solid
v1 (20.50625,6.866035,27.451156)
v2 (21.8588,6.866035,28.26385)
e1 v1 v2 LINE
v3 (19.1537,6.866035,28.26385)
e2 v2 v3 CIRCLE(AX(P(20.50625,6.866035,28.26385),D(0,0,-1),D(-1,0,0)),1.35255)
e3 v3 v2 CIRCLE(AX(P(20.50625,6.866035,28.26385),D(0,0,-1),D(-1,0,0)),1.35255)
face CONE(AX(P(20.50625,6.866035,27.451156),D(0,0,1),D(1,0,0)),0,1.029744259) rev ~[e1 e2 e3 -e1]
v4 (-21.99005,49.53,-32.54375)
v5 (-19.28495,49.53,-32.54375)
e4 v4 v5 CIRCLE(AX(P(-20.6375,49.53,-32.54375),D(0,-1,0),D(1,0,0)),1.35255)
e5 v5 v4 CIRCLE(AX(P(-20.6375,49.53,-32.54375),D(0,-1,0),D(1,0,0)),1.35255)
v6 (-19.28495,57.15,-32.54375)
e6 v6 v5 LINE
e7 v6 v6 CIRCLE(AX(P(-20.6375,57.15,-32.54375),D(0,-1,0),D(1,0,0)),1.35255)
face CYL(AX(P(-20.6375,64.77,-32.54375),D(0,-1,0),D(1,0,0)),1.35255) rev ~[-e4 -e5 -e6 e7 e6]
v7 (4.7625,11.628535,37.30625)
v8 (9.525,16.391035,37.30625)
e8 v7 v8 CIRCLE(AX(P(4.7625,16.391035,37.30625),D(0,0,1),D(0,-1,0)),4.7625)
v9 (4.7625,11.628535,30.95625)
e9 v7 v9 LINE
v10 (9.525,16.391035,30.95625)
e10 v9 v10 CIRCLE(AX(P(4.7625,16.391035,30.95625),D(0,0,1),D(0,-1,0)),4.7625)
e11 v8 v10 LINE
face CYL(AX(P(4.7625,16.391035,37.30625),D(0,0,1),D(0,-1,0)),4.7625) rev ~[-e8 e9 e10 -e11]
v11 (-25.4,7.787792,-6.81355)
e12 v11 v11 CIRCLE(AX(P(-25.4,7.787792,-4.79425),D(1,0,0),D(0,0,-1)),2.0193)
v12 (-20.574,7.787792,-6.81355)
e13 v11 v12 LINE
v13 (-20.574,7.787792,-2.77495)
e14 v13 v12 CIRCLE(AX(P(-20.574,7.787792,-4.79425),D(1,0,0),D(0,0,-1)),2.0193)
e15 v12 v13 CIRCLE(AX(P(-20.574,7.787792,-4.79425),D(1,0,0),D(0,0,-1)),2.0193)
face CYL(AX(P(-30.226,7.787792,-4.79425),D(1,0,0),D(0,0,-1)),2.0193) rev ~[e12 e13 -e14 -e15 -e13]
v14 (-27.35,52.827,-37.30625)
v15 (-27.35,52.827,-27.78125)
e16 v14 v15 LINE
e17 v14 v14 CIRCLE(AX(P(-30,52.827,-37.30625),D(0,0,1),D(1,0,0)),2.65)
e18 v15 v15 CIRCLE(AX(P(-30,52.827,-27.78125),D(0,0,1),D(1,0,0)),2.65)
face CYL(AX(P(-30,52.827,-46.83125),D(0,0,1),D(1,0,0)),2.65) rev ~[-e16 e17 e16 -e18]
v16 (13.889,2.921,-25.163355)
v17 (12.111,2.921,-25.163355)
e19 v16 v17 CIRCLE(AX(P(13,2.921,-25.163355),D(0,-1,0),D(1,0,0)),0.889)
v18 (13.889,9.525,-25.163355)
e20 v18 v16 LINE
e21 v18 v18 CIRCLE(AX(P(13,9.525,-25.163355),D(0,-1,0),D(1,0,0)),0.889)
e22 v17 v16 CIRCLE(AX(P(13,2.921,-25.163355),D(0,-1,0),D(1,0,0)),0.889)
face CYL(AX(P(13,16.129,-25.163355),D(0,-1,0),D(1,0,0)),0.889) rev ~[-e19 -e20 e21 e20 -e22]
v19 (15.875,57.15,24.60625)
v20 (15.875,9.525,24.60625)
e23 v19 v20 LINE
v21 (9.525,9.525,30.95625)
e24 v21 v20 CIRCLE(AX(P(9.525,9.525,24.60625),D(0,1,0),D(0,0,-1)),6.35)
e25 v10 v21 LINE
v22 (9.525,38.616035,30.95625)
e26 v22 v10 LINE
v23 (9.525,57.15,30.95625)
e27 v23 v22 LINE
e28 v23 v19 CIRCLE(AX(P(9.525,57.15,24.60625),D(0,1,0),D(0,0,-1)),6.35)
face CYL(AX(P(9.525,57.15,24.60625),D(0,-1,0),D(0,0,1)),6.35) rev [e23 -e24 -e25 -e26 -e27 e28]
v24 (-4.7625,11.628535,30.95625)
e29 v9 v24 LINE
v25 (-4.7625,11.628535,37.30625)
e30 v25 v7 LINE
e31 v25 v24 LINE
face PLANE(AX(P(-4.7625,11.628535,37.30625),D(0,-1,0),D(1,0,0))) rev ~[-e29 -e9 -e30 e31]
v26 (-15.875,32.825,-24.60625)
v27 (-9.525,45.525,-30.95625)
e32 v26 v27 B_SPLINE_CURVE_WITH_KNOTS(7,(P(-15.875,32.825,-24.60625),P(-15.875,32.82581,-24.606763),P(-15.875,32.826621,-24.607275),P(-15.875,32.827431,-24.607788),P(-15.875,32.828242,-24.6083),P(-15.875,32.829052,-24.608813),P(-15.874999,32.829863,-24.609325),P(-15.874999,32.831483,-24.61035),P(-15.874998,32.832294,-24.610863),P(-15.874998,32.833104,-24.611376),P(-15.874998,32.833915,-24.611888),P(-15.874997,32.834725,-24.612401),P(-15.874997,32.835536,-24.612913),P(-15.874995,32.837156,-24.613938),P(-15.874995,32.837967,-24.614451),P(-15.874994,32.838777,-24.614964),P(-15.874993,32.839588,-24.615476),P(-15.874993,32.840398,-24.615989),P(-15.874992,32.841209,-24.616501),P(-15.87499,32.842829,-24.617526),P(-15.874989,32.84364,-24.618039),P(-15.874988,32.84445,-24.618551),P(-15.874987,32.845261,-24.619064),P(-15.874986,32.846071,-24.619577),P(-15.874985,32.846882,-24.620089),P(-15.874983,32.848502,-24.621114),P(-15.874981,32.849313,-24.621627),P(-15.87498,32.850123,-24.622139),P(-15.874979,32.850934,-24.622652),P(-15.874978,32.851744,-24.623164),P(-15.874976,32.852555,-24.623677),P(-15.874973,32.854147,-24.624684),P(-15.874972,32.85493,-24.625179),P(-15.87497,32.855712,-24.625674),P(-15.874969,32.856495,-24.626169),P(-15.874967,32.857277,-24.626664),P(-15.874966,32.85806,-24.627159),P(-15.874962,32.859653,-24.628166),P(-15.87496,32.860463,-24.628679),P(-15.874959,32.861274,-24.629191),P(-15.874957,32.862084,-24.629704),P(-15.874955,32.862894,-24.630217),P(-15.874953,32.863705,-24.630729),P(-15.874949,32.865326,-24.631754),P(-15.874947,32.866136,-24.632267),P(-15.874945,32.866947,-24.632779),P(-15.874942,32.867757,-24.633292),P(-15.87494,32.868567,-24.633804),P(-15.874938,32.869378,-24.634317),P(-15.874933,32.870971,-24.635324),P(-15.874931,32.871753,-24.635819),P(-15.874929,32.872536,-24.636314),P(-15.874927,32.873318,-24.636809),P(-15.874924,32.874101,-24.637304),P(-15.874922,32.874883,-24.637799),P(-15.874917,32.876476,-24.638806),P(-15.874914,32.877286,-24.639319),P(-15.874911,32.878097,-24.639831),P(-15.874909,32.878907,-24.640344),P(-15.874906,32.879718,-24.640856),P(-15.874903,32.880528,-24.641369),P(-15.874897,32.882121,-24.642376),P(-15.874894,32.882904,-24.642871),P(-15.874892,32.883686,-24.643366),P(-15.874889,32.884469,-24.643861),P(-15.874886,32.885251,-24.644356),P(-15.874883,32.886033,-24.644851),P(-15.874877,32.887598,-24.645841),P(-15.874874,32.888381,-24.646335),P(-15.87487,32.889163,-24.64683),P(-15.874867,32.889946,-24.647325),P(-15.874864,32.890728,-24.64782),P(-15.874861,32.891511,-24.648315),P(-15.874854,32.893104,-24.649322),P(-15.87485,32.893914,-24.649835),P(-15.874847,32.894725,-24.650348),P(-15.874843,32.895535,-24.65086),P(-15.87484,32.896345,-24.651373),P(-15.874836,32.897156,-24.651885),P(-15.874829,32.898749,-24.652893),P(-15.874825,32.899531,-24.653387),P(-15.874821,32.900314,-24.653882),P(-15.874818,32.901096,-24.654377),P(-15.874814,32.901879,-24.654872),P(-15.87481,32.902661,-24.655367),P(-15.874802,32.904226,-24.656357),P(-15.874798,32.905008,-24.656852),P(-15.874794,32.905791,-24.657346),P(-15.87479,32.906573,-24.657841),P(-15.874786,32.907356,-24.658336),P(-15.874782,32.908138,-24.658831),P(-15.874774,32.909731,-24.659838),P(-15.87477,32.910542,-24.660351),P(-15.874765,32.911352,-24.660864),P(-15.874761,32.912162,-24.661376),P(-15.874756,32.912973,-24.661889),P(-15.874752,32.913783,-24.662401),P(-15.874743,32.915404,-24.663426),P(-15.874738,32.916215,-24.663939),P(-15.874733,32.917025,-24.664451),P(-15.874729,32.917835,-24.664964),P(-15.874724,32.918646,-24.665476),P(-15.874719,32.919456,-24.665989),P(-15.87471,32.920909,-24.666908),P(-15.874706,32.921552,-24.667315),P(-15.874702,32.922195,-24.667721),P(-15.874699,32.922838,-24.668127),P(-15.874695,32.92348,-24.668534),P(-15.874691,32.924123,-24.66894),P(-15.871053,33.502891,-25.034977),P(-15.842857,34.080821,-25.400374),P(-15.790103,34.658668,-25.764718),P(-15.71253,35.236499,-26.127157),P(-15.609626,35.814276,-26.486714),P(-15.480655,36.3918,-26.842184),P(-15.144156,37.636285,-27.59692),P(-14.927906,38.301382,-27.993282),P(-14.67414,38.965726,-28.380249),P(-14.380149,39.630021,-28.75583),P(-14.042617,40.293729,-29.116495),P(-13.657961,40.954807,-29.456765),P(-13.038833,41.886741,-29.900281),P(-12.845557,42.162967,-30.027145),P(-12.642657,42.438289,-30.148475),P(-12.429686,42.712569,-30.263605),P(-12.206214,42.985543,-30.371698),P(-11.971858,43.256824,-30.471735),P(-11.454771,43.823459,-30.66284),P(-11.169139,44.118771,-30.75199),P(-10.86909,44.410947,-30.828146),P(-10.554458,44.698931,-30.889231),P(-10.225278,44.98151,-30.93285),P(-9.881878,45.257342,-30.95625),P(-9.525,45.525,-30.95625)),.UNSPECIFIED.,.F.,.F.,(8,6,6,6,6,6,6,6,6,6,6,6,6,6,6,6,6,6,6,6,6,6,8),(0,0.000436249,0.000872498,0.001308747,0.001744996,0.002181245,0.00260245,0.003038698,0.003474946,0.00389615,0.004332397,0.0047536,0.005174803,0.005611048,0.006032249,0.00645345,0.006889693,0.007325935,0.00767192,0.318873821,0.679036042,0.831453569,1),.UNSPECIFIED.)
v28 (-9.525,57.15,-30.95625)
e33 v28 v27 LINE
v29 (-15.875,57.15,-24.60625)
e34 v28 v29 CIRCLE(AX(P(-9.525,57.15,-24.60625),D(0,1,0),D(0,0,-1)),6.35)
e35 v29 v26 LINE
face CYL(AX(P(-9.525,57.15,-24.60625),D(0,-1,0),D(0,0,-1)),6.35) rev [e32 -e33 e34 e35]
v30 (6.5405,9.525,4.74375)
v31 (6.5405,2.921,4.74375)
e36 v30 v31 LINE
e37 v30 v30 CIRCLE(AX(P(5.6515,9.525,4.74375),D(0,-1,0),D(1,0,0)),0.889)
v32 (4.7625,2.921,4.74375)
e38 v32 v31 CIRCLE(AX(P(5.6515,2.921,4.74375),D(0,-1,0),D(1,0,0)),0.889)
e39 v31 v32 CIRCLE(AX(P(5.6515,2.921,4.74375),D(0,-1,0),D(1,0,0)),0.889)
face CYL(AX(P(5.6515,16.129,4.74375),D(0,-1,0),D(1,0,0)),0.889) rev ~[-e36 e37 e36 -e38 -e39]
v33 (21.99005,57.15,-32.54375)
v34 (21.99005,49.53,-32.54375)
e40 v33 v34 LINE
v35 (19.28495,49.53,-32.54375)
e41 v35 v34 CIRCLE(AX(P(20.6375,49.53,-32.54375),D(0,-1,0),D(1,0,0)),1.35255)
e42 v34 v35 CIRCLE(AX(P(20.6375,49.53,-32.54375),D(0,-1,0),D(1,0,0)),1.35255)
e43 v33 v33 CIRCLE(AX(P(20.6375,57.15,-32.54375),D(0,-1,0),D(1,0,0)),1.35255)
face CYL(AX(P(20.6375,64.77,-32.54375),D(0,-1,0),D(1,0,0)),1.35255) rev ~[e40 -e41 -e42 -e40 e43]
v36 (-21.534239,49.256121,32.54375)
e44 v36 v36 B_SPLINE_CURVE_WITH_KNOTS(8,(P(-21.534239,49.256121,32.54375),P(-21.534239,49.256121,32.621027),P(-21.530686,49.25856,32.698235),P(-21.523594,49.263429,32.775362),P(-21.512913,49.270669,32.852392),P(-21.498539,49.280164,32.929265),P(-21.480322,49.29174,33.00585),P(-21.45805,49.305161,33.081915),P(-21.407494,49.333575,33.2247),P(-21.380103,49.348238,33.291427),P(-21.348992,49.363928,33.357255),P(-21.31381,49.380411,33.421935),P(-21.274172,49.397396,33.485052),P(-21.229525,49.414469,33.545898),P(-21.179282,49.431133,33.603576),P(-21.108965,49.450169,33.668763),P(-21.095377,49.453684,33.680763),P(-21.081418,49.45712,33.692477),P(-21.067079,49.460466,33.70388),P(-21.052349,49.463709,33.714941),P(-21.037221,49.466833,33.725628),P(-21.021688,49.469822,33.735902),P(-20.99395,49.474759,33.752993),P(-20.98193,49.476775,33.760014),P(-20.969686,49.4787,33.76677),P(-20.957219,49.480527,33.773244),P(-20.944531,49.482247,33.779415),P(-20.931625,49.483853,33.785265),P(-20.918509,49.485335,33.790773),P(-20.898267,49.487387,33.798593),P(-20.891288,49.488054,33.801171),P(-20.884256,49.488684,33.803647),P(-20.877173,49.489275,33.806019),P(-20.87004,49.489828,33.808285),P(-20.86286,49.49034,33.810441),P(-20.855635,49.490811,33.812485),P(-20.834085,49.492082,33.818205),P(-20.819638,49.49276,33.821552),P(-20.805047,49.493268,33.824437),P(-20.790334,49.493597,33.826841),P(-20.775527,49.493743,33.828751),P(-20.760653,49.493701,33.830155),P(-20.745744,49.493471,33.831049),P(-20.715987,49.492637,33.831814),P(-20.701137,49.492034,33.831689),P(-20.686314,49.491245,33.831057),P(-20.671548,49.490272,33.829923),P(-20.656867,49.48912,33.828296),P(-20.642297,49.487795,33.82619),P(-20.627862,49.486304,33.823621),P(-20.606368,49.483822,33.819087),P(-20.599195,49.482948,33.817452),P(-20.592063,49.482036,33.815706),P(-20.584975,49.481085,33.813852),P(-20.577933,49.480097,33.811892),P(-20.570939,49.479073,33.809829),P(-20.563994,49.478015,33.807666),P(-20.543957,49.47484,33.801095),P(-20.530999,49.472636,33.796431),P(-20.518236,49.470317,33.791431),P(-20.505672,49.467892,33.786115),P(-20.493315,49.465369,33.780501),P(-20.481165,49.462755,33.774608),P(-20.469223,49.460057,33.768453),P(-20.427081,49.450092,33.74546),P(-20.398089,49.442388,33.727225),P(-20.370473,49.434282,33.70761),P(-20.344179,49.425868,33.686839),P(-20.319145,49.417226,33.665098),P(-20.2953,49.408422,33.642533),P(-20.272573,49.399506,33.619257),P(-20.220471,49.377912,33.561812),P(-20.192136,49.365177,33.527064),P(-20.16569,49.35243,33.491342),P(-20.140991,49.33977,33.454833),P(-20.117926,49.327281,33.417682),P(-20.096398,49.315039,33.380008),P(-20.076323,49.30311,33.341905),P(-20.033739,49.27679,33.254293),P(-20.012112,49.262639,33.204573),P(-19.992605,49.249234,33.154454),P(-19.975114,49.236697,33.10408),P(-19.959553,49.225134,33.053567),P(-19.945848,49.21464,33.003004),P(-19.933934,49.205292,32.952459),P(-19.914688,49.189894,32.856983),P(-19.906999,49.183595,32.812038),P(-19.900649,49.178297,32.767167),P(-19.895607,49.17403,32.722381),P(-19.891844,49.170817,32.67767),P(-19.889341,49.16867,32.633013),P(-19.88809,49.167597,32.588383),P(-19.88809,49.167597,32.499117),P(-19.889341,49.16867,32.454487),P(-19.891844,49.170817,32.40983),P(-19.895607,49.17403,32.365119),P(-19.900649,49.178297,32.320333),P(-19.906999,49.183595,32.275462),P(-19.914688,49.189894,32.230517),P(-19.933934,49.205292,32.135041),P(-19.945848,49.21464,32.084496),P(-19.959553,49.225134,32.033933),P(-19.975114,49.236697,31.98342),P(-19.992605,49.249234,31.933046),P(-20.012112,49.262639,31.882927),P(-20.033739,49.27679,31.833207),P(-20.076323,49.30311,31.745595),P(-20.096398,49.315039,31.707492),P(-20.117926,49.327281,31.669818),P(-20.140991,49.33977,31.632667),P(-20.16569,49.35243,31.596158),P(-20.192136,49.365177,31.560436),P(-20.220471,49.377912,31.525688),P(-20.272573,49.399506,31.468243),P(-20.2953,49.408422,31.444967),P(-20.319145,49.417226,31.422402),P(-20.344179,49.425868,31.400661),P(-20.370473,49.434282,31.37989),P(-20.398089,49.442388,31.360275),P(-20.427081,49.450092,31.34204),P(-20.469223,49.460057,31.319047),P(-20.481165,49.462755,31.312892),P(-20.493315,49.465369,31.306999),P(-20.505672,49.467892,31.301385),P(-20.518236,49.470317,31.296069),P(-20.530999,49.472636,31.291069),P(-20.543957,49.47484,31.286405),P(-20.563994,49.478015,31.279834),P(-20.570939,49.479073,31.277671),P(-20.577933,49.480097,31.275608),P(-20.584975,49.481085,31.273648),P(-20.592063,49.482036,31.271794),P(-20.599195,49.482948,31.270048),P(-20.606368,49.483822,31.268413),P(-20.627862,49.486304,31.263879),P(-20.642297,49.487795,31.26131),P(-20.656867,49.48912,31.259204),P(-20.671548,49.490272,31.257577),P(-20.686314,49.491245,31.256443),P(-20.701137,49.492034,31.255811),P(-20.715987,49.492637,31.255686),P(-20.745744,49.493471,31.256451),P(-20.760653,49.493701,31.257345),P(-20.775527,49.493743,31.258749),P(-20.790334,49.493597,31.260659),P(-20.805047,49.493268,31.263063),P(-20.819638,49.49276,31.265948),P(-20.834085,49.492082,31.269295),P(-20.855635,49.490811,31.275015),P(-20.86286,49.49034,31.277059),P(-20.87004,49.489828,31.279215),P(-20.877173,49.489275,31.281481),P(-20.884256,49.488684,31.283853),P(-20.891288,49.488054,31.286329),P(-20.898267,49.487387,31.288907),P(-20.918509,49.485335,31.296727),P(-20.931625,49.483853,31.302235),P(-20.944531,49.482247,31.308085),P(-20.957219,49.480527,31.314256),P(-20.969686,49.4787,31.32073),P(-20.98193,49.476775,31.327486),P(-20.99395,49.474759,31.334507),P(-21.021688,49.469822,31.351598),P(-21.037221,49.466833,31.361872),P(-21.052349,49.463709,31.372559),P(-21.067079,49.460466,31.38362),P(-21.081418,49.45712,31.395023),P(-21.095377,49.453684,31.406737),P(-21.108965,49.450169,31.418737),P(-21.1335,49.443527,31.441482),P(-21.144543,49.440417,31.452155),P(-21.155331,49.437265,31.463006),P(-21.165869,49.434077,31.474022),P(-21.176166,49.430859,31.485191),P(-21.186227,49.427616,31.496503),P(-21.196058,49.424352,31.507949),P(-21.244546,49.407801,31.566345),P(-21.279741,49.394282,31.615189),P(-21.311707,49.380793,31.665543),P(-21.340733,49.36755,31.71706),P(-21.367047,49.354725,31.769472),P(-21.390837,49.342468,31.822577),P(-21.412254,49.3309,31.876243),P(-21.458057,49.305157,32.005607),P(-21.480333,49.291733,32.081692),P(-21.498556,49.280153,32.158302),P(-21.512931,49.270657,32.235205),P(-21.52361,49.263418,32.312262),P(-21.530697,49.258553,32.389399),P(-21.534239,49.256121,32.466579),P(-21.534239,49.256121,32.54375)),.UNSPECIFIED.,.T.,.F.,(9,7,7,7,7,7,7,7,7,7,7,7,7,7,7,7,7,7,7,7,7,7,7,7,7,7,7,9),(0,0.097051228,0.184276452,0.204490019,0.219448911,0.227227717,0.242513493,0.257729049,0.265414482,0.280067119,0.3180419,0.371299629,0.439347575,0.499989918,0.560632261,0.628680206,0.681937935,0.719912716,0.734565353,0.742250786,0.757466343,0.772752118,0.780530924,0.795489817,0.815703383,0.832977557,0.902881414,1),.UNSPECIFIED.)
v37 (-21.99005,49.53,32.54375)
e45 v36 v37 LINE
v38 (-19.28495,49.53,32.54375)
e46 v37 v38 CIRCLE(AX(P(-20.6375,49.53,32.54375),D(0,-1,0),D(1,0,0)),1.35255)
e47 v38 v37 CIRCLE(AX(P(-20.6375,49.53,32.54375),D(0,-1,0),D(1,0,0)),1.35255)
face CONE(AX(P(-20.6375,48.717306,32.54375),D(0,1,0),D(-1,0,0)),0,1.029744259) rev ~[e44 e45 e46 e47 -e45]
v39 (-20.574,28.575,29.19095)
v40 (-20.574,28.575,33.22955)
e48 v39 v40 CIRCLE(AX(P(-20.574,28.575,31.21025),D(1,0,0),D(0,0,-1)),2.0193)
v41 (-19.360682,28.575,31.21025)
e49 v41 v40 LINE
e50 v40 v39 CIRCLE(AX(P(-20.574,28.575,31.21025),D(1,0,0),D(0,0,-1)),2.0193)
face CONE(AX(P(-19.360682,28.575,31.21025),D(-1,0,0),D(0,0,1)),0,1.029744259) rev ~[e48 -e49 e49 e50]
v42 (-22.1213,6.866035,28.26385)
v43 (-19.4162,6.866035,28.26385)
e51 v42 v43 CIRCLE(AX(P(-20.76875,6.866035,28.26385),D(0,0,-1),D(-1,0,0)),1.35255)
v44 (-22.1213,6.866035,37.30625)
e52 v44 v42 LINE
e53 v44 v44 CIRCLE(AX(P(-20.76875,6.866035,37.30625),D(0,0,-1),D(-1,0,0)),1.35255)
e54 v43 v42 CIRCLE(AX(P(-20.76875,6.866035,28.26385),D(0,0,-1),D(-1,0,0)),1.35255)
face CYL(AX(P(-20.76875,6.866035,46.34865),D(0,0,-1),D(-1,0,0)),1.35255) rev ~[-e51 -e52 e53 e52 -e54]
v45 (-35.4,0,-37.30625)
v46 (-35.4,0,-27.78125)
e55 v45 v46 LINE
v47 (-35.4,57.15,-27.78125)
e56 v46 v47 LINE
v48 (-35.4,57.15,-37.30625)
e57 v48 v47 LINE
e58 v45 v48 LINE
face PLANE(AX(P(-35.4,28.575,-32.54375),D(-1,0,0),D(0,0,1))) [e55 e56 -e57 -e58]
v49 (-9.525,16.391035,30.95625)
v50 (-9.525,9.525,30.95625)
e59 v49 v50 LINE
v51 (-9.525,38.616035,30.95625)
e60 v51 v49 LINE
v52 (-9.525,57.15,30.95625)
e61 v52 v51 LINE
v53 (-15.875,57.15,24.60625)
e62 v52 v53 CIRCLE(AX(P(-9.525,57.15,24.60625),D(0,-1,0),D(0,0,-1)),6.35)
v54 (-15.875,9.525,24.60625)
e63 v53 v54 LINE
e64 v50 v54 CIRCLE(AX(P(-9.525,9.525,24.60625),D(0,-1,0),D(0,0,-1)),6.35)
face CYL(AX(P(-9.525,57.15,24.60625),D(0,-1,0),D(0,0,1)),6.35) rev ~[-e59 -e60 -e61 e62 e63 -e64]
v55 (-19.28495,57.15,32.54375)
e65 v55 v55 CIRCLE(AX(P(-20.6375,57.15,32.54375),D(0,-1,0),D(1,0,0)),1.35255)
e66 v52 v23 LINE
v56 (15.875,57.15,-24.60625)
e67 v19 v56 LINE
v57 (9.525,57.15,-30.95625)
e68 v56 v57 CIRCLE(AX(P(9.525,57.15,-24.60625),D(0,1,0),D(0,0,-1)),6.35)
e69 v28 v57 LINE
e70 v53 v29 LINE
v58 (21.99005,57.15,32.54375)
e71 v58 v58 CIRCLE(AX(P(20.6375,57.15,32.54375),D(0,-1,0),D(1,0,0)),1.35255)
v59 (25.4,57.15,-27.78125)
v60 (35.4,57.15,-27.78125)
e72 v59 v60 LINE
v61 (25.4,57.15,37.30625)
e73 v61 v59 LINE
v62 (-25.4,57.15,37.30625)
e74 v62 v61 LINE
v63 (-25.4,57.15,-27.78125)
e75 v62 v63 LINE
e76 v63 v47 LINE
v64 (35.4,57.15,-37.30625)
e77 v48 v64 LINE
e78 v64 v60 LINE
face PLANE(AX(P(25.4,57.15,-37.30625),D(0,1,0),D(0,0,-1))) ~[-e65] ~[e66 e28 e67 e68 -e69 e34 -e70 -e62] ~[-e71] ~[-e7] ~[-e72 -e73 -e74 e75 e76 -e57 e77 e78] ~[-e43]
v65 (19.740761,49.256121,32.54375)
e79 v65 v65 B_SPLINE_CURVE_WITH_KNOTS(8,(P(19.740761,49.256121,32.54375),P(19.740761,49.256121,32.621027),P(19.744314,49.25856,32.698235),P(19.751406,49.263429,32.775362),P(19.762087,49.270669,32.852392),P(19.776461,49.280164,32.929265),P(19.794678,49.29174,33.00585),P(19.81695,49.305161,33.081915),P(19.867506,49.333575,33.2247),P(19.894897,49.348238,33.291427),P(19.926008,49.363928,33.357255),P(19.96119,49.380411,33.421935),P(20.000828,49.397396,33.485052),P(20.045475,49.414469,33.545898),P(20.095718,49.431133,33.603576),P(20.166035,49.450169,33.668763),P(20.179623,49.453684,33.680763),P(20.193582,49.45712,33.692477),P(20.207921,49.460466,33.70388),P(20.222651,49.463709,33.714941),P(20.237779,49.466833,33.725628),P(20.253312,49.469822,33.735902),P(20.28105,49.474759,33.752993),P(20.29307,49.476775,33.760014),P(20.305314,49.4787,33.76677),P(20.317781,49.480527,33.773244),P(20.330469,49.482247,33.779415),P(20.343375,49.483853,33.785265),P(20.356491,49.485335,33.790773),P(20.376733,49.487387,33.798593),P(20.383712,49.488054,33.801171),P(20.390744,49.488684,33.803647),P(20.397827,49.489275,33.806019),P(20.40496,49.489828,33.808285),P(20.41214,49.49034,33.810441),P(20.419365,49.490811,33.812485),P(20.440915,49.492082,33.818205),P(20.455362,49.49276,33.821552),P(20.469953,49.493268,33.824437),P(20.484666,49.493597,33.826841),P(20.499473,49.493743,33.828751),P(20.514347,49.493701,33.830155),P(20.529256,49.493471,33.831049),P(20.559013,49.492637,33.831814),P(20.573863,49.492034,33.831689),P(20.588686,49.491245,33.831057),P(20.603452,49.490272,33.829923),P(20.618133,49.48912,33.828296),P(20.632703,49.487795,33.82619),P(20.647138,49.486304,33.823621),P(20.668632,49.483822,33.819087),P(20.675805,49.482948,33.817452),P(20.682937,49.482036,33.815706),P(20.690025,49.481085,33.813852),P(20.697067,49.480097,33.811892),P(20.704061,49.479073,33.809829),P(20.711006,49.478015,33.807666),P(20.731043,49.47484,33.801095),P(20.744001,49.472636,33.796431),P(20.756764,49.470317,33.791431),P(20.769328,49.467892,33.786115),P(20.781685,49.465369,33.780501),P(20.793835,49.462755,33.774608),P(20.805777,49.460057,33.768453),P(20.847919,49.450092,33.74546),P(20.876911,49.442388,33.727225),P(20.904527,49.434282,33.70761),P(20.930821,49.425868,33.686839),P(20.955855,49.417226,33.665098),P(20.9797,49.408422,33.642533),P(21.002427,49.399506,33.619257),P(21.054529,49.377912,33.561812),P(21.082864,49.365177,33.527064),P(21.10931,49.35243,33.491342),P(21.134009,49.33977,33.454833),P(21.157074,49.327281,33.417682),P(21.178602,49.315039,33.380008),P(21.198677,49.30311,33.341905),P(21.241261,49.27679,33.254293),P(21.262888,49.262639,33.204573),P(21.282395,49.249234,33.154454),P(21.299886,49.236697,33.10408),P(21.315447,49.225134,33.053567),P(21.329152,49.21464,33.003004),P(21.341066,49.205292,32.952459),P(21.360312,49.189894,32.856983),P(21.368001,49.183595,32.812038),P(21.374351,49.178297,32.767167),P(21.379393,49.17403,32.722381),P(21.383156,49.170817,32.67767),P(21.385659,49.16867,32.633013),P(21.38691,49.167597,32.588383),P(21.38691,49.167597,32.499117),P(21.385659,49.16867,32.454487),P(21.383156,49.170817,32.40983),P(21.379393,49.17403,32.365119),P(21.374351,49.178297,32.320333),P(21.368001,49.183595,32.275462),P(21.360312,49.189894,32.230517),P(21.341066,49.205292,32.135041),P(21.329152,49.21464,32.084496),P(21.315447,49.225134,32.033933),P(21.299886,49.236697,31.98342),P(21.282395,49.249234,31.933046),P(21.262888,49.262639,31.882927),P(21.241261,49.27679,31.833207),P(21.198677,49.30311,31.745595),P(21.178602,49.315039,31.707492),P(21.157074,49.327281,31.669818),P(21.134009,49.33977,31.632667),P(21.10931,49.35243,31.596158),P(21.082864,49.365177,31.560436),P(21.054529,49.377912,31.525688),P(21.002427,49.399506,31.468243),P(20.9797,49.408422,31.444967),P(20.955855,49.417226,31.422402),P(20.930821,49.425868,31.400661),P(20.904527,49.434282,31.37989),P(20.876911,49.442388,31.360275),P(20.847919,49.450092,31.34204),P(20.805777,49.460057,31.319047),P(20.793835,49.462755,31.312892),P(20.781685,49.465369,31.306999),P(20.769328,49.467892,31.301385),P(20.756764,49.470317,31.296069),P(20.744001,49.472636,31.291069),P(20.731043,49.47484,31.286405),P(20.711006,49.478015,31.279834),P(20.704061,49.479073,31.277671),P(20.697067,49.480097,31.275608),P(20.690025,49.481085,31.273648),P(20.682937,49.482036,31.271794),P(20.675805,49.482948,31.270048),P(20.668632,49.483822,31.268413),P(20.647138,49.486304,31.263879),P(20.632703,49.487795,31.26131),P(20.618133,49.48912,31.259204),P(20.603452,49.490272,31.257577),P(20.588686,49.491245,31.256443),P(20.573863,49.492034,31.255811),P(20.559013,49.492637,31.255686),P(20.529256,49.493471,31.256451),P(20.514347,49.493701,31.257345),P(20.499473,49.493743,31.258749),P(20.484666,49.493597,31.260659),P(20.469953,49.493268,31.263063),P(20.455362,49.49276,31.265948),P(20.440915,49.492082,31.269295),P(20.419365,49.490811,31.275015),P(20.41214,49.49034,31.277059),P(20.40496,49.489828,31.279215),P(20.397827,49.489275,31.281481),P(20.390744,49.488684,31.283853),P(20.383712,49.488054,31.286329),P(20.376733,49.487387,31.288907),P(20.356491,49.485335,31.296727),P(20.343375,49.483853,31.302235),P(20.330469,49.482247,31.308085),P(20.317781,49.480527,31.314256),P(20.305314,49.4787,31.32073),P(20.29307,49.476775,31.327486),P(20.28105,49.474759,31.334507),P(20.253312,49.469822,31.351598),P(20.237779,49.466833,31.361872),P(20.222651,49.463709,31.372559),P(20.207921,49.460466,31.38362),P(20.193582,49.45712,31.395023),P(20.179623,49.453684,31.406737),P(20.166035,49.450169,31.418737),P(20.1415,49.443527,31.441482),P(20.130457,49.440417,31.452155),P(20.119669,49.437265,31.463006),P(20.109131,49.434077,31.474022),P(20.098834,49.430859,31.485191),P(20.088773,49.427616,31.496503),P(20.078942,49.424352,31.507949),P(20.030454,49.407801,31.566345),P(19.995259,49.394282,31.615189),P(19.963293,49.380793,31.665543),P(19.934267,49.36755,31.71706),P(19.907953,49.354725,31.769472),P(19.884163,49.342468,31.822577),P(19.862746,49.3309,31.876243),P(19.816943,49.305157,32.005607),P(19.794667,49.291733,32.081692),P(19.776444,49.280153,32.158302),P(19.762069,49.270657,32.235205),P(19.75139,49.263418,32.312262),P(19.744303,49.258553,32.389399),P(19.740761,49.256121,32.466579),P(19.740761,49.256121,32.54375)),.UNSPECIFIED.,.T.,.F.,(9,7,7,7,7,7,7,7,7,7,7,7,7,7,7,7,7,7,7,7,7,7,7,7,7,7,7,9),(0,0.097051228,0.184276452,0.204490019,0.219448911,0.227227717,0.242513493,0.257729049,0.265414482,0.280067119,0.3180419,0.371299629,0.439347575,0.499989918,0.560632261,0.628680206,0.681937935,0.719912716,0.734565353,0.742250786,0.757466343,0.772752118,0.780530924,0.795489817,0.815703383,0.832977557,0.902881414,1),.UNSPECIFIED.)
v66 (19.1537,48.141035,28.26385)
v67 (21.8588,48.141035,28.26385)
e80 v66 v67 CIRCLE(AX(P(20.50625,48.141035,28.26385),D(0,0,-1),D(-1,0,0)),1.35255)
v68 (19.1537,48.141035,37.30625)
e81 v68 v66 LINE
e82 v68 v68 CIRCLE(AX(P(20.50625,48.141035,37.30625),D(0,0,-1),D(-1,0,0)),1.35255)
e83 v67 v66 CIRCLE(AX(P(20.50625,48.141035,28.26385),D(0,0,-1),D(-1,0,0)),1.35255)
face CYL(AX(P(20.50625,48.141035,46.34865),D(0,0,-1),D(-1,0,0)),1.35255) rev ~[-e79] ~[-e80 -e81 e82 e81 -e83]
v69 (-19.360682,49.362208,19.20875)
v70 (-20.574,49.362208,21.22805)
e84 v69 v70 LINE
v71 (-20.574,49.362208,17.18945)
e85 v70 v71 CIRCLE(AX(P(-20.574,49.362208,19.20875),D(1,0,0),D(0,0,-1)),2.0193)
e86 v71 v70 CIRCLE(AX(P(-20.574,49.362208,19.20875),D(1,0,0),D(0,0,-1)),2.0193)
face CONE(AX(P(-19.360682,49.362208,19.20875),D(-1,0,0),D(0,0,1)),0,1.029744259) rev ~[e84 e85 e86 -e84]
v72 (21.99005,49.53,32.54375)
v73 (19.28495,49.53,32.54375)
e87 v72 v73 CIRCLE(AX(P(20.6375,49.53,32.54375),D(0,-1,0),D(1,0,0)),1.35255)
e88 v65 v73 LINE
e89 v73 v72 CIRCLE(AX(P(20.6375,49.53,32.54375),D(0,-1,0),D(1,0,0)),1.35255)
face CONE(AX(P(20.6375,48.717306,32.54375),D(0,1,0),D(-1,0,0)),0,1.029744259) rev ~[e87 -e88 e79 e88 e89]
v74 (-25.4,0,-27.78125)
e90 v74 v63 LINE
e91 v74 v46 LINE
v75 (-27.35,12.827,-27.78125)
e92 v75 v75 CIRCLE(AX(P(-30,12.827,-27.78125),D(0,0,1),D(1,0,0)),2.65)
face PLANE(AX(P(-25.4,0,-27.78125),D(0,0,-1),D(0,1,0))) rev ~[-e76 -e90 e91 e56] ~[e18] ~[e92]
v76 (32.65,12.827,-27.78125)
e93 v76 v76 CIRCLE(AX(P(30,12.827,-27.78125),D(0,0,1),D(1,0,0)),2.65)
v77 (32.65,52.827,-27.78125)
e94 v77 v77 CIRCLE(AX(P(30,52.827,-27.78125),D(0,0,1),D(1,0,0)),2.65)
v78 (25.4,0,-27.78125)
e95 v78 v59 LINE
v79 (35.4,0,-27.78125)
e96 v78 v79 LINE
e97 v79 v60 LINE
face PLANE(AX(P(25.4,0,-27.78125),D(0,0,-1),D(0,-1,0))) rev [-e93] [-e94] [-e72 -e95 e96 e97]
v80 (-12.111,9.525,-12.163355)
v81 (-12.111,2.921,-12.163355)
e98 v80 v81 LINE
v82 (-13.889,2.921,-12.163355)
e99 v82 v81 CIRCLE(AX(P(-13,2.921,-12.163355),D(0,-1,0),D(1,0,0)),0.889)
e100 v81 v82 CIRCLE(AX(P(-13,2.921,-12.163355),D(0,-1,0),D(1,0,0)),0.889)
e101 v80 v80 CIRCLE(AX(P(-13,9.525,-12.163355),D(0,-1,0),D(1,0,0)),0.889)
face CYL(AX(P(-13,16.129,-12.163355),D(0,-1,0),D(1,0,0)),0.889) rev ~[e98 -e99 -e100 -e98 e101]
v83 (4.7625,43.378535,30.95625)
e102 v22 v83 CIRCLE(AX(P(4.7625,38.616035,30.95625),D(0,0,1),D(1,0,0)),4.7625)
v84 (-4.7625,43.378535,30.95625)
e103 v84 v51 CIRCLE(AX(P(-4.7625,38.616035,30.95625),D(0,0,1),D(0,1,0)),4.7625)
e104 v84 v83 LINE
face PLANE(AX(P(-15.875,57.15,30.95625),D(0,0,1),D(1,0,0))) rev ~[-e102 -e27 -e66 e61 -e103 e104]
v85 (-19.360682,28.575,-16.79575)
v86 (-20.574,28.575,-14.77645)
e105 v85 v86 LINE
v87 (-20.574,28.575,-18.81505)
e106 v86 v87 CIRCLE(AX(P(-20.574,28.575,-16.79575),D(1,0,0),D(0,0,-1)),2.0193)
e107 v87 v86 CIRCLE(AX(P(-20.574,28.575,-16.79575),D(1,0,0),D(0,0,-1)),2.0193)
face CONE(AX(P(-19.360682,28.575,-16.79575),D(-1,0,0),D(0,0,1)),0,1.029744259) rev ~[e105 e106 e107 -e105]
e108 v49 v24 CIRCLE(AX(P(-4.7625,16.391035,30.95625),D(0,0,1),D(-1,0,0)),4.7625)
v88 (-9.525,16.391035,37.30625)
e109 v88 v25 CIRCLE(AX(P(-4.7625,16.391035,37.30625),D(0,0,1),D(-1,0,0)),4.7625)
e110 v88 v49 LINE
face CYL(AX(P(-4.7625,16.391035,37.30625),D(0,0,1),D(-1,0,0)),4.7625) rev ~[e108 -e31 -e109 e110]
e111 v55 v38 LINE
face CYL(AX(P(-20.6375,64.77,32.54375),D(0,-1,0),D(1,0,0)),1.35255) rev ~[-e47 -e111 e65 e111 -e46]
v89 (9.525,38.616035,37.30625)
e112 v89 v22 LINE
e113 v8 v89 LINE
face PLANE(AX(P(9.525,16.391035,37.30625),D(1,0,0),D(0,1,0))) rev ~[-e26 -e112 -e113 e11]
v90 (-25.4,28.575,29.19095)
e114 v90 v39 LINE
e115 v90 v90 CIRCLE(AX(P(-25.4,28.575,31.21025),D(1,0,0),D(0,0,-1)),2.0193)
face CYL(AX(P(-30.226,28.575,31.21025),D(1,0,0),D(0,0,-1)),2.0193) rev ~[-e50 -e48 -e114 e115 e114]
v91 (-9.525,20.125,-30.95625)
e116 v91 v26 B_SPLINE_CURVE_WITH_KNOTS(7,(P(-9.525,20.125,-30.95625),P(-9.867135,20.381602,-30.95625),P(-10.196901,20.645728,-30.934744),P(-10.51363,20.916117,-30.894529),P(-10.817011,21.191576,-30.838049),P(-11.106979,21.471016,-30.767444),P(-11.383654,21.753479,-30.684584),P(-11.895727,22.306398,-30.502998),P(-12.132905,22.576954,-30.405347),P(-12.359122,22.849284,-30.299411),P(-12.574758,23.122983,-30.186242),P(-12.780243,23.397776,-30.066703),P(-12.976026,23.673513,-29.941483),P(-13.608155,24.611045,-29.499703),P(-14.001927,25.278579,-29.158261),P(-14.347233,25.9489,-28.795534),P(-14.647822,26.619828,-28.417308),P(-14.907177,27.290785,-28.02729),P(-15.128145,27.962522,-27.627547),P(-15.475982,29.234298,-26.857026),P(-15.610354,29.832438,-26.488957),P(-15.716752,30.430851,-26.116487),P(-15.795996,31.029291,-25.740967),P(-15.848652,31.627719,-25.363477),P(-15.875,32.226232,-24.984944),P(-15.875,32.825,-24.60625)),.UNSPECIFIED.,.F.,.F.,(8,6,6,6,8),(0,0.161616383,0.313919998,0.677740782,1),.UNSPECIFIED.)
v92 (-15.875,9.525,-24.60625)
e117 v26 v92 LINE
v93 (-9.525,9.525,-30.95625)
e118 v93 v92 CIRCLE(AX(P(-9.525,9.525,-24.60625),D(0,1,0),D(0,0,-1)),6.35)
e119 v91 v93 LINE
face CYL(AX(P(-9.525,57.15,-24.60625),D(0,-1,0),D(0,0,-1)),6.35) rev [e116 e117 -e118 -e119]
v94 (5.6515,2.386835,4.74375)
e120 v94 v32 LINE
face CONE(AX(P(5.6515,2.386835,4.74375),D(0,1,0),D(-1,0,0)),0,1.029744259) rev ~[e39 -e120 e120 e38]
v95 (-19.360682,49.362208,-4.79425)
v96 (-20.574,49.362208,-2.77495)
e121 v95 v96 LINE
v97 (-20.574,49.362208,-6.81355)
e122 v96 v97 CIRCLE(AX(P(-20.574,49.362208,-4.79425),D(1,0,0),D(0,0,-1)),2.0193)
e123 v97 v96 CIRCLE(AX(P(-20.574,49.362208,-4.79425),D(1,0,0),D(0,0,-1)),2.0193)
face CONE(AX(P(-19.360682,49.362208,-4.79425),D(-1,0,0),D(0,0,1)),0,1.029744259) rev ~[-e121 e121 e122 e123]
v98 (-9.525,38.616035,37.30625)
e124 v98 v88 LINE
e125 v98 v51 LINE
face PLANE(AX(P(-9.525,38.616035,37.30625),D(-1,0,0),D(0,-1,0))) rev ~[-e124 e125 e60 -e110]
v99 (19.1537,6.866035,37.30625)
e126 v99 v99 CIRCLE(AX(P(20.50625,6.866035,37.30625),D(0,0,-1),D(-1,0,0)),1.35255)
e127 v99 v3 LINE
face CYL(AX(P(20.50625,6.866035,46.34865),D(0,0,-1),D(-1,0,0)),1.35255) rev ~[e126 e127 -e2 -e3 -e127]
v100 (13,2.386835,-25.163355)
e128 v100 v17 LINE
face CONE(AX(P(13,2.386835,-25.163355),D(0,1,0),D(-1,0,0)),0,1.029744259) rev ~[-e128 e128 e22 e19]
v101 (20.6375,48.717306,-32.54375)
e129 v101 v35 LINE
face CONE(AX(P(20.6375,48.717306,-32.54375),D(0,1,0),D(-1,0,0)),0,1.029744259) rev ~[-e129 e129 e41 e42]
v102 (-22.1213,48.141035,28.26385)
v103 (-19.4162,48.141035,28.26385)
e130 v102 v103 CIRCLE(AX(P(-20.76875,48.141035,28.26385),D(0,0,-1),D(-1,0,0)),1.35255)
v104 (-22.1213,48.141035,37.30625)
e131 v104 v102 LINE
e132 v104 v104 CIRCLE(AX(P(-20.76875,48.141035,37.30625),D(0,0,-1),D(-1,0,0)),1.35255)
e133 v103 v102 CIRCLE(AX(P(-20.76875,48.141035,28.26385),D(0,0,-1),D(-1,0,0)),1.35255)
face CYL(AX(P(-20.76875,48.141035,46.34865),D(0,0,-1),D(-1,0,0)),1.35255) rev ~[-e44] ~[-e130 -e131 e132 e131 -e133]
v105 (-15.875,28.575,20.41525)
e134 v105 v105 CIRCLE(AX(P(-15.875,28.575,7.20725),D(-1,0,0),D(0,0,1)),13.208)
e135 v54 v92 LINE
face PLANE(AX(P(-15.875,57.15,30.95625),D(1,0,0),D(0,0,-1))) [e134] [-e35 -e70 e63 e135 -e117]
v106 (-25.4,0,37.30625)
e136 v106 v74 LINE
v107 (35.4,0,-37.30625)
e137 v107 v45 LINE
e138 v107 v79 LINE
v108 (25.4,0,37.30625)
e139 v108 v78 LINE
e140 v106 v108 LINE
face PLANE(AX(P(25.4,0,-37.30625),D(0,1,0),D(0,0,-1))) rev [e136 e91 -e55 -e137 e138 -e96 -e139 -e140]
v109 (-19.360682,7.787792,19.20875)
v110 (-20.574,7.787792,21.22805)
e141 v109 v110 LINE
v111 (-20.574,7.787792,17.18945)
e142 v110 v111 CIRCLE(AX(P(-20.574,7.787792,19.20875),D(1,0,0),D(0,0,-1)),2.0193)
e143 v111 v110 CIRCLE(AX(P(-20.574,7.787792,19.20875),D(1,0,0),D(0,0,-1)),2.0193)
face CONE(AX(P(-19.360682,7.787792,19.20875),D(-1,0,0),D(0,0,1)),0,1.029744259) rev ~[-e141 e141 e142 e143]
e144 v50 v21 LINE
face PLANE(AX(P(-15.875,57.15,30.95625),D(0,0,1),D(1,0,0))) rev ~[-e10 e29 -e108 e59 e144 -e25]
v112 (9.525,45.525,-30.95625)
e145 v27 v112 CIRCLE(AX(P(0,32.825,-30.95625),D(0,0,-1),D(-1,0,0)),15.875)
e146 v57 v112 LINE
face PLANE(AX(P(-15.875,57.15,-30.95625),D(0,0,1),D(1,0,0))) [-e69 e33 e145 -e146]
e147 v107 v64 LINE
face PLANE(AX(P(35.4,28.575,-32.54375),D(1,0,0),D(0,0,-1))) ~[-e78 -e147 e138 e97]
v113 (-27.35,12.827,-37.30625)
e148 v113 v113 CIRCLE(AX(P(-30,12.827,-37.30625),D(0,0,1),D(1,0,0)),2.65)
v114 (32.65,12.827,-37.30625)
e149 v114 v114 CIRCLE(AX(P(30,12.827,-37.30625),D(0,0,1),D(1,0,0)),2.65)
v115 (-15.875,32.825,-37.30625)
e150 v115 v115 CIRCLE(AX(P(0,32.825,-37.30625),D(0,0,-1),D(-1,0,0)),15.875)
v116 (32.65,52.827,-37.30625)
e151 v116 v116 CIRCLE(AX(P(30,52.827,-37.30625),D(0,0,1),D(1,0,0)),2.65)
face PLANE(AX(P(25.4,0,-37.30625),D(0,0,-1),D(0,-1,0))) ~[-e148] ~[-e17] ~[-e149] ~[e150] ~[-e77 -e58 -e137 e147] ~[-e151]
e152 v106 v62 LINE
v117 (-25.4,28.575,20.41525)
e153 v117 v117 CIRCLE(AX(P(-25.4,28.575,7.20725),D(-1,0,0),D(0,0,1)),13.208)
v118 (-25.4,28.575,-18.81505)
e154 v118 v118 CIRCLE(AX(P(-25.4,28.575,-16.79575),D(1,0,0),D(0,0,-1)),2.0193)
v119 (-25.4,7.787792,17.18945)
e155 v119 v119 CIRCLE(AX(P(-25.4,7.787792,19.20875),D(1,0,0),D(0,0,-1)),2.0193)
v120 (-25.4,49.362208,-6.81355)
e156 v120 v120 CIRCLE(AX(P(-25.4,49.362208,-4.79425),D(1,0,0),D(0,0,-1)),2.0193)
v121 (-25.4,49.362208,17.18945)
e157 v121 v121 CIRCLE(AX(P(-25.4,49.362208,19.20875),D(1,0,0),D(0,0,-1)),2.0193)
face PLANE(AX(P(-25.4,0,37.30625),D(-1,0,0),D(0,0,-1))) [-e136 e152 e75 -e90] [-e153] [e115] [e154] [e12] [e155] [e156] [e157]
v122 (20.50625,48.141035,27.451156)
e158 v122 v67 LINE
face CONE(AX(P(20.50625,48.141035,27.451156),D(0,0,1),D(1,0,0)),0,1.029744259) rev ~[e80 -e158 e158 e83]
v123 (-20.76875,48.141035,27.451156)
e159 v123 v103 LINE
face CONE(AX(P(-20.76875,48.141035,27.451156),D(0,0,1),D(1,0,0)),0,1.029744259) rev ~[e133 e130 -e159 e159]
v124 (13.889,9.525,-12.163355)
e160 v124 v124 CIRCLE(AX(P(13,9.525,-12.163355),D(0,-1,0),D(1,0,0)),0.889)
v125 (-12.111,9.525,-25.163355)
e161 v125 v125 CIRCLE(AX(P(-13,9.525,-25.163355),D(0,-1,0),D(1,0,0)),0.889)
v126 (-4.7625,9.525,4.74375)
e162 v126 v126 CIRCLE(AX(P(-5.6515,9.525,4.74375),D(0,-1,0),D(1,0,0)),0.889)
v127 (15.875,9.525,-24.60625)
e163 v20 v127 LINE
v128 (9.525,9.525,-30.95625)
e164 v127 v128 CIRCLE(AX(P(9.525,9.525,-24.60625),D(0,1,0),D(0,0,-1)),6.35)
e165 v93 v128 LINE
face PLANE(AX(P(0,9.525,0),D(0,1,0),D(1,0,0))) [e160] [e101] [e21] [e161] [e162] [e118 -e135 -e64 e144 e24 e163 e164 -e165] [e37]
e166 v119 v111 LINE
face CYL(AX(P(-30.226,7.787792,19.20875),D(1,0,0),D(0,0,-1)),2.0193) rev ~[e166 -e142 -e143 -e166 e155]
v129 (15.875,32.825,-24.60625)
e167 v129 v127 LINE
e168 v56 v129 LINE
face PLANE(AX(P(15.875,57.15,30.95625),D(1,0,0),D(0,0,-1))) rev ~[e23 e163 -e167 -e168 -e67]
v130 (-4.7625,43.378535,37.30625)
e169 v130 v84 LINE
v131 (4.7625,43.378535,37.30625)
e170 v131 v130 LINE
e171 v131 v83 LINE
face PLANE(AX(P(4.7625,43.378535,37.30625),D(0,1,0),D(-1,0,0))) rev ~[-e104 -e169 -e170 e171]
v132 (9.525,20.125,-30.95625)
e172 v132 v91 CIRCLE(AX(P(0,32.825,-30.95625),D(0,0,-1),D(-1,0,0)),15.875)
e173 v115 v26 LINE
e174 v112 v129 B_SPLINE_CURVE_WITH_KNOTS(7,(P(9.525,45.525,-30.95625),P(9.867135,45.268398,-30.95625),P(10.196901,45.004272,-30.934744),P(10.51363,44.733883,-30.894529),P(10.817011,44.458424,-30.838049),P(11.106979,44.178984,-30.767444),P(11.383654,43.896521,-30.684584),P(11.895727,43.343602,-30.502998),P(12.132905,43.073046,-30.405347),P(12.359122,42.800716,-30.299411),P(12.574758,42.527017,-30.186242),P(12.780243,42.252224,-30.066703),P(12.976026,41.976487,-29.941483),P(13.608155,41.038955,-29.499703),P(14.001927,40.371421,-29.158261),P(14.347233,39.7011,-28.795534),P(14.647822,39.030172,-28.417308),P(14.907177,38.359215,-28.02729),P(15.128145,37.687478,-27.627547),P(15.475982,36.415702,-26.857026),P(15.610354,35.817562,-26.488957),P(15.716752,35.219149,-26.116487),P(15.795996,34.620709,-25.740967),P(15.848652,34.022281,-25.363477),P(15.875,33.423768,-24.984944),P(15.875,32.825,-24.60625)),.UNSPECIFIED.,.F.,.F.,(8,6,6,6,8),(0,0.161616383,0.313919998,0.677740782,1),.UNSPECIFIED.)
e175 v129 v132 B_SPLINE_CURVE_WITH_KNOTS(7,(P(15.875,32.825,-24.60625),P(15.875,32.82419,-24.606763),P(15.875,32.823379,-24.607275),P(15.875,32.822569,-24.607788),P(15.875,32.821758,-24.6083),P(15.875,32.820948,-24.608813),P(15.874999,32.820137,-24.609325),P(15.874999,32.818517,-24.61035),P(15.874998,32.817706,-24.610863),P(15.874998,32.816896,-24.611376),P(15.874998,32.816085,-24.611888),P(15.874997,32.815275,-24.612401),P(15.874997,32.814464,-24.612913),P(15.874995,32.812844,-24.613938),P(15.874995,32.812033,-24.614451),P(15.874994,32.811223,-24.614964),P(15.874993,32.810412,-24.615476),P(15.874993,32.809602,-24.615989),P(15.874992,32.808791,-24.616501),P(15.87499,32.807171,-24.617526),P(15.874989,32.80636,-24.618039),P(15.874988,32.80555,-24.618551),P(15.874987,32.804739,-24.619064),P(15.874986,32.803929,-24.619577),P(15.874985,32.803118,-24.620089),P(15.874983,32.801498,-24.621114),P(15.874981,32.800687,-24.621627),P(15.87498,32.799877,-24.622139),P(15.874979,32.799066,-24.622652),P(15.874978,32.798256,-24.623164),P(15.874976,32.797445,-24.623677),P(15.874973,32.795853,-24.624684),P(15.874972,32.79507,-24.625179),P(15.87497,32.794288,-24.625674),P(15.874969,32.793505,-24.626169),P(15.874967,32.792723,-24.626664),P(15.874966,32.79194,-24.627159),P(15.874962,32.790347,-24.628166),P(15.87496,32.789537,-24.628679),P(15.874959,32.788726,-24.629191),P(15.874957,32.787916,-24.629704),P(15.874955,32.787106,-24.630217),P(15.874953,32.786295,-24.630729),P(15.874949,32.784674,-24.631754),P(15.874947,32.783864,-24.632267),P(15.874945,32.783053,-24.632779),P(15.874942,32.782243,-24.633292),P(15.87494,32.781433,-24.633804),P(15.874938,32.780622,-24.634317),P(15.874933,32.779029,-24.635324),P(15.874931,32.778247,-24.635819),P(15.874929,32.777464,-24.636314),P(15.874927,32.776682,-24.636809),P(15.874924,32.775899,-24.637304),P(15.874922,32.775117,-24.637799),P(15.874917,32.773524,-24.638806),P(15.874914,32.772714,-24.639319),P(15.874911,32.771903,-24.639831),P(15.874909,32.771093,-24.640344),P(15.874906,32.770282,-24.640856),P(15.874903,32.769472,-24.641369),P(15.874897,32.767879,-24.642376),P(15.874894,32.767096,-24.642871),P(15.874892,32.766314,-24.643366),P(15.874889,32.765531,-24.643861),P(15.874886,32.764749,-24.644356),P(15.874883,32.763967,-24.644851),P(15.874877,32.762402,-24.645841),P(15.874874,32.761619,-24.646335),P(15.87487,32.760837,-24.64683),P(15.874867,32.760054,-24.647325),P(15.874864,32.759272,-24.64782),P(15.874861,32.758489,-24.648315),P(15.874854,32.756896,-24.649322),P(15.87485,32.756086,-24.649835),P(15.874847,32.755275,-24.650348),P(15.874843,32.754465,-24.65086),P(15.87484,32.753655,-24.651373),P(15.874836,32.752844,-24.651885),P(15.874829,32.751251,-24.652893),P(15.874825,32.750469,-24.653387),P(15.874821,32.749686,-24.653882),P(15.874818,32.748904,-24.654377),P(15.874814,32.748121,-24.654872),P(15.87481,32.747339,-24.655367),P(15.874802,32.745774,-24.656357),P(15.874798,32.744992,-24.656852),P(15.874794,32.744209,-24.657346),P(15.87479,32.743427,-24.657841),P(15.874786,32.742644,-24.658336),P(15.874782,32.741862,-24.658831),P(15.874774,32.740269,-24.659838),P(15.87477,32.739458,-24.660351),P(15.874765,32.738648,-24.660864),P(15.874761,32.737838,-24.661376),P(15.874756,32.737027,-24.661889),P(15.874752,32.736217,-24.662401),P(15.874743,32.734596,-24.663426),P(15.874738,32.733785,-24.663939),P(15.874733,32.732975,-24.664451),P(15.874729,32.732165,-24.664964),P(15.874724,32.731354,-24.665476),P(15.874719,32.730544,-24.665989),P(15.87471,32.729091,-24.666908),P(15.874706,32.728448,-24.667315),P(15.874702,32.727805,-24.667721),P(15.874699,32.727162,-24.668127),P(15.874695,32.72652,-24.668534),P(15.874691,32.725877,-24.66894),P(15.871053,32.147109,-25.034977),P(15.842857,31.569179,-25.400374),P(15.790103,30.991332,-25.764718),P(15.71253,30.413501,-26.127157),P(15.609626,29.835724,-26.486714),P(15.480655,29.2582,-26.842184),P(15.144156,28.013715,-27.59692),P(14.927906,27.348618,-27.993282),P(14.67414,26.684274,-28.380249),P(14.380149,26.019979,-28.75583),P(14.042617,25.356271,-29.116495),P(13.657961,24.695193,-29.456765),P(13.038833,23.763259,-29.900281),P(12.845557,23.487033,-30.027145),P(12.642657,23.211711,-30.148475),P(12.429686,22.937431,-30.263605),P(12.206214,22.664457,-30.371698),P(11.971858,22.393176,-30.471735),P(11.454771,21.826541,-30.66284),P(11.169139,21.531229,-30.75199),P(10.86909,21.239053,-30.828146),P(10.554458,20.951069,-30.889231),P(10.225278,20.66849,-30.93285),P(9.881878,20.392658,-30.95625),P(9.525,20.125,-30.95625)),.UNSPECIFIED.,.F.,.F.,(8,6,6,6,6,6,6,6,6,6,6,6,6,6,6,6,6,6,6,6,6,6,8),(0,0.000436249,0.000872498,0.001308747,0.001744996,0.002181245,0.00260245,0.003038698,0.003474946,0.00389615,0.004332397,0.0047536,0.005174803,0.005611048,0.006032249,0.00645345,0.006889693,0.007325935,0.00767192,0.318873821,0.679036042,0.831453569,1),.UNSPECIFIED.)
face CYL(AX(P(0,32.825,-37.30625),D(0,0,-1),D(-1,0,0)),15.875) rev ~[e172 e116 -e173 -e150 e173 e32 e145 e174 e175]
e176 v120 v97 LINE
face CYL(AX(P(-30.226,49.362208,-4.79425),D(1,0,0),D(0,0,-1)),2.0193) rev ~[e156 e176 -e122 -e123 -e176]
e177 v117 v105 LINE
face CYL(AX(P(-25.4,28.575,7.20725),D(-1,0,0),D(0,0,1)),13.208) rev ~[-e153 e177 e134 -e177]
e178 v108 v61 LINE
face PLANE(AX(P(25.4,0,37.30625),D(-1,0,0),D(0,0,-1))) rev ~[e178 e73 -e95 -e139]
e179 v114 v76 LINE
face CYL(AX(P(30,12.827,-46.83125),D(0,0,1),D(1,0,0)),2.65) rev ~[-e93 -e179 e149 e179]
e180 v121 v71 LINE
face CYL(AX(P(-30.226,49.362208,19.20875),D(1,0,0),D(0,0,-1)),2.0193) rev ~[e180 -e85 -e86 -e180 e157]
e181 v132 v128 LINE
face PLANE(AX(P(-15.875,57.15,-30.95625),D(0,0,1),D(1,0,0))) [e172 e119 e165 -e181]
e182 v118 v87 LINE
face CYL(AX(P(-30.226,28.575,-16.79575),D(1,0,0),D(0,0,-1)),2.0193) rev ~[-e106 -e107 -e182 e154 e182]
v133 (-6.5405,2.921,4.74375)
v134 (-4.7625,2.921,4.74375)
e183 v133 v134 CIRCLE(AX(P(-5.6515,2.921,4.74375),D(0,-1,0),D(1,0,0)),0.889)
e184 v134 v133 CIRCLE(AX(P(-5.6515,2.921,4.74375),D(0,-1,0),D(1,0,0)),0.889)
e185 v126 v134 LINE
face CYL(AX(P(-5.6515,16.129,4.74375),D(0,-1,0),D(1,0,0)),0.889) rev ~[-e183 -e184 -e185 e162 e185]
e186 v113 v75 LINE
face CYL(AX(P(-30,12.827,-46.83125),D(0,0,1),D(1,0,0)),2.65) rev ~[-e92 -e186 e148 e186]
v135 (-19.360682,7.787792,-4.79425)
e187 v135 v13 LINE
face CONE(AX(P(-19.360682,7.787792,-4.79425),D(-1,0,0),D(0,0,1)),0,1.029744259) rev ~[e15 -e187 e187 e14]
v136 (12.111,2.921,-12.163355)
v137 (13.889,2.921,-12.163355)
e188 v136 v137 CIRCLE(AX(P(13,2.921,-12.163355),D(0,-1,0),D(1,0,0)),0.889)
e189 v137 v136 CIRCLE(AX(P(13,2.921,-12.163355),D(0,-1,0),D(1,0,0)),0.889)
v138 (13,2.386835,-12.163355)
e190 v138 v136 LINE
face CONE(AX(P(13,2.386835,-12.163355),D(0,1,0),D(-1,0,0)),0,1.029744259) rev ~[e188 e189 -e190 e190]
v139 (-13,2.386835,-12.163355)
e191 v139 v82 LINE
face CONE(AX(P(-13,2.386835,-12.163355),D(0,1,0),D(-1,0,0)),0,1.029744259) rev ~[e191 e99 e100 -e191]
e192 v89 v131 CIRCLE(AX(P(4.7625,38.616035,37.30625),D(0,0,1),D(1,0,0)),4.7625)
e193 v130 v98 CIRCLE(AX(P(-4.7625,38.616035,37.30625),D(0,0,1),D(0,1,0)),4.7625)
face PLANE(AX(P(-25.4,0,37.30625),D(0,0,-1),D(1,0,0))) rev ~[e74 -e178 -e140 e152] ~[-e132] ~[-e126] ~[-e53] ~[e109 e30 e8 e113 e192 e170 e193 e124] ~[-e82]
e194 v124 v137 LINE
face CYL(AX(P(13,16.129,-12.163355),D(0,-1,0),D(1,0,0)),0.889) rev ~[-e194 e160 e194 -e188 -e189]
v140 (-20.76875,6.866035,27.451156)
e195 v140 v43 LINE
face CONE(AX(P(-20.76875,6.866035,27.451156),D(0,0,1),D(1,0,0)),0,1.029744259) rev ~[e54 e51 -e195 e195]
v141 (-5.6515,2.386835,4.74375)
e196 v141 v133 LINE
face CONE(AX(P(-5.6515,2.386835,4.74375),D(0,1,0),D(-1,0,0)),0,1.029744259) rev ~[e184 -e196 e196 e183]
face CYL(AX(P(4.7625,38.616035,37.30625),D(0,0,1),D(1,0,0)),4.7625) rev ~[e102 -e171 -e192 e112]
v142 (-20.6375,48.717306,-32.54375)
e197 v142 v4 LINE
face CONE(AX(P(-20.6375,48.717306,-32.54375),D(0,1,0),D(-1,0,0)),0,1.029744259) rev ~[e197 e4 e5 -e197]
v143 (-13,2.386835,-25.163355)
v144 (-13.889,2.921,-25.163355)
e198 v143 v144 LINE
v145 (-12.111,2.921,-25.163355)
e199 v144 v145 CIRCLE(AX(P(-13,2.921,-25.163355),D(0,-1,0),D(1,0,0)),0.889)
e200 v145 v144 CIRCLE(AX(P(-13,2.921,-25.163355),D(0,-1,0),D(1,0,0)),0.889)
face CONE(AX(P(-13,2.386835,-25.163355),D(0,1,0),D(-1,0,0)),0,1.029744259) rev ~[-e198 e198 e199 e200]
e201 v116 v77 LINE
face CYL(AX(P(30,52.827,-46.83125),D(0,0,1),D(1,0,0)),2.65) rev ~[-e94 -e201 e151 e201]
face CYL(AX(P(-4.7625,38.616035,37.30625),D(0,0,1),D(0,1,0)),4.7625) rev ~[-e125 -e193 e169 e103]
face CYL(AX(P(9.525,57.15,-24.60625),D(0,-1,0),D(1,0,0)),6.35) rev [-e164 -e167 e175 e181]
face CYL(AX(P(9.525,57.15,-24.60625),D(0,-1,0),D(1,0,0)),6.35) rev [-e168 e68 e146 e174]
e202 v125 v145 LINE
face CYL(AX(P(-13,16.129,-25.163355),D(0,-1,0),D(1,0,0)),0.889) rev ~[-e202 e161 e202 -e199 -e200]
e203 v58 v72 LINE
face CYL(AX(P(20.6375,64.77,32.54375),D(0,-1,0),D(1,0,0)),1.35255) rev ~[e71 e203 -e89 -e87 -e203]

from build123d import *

# Parameters (mm, degrees)
SKETCH1_W                  = 50.8
SKETCH1_H                  = 74.6125
BOSS_EXTRUDE1_DEPTH        = 57.15
SKETCH2_W                  = 31.75
SKETCH2_H                  = 61.9125
CUT_EXTRUDE1_DEPTH         = 47.625
FILLET1_R                  = 6.35
CUT_EXTRUDE2_REACH         = 76.612
SKETCH3_R                  = 15.875
F_6_32_TAPPED_HOLE1_D      = 2.7051
F_6_32_TAPPED_HOLE1_DEPTH  = 7.62
F_6_32_TAPPED_HOLE1_TIP    = 0.81269403
SKETCH8_W                  = 9.525
SKETCH8_H                  = 57.15
BOSS_EXTRUDE2_DEPTH        = 10
M5_CLEARANCE_HOLE1_D       = 5.3
M5_CLEARANCE_HOLE1_DEPTH   = 9.525
CUT_EXTRUDE3_REACH         = 62.8
SKETCH11_R                 = 13.208
F_10_32_TAPPED_HOLE2_D     = 4.0386
F_10_32_TAPPED_HOLE2_DEPTH = 4.826
F_10_32_TAPPED_HOLE2_TIP   = 1.213317848
F_2_56_TAPPED_HOLE1_D      = 1.778
F_2_56_TAPPED_HOLE1_DEPTH  = 6.604
F_2_56_TAPPED_HOLE1_TIP    = 0.53416509
F_6_32_TAPPED_HOLE2_D      = 2.7051
F_6_32_TAPPED_HOLE2_DEPTH  = 9.0424
F_6_32_TAPPED_HOLE2_TIP    = 0.81269403
CUT_EXTRUDE6_REACH         = 76.613


with BuildPart() as part:
    # Sketch1 → Boss-Extrude1 (new body)
    with BuildSketch(Plane(origin=(0, 0, 0), x_dir=(1, 0, 0), z_dir=(0, 1, 0))):
        Rectangle(SKETCH1_W, SKETCH1_H)
    extrude(amount=BOSS_EXTRUDE1_DEPTH)

    # Sketch2 → Cut-Extrude1 (cut)
    with BuildSketch(Plane(origin=(0, 57.15, 0), x_dir=(1, 0, 0), z_dir=(0, 1, 0))):
        Rectangle(SKETCH2_W, SKETCH2_H)
    extrude(amount=-CUT_EXTRUDE1_DEPTH, mode=Mode.SUBTRACT)

    # Fillet1
    fillet1_edges = [part.edges().sort_by_distance(p)[0] for p in [
        (-15.875, 33.3375, -30.95625),
        (-15.875, 33.3375, 30.95625),
        (15.875, 33.3375, 30.95625),
        (15.875, 33.3375, -30.95625),
    ]]
    fillet(fillet1_edges, radius=FILLET1_R)

    # Sketch3 → Cut-Extrude2 (cut, up to next)
    with BuildSketch(Plane(origin=(0, 0, -37.30625), x_dir=(-1, 0, 0), z_dir=(0, 0, -1)), mode=Mode.PRIVATE) as cut_extrude2_sk1:
        with Locations((0, 32.825)):
            Circle(SKETCH3_R)
    cut_extrude2_tool1 = extrude(cut_extrude2_sk1.sketch, amount=-CUT_EXTRUDE2_REACH, mode=Mode.PRIVATE) & part.part
    add(cut_extrude2_tool1.solids().sort_by_distance((0, 32.825, -37.30625))[0], mode=Mode.SUBTRACT)

    # #6-32 Tapped Hole1
    with Locations(Plane(origin=(0, 57.15, 0), x_dir=(-1, 0, 0), z_dir=(0, 1, 0))):
        with Locations((20.6375, -32.54375), (-20.6375, -32.54375), (20.6375, 32.54375), (-20.6375, 32.54375)):
            Hole(F_6_32_TAPPED_HOLE1_D / 2, depth=F_6_32_TAPPED_HOLE1_DEPTH)
            with Locations((0, 0, -(F_6_32_TAPPED_HOLE1_DEPTH + F_6_32_TAPPED_HOLE1_TIP / 2))):  # 118° drill point
                Cone(0, F_6_32_TAPPED_HOLE1_D / 2, F_6_32_TAPPED_HOLE1_TIP, mode=Mode.SUBTRACT)

    # Sketch8 → Boss-Extrude2 (add)
    with BuildSketch(Plane.ZY.offset(25.4)):
        with Locations((-32.54375, 28.575)):
            Rectangle(SKETCH8_W, SKETCH8_H)
    boss_extrude2 = extrude(amount=BOSS_EXTRUDE2_DEPTH)

    # Mirror1: Boss-Extrude2 across plane
    add(boss_extrude2.mirror(Plane(origin=(0, 0, 0), x_dir=(0, 0, 1), z_dir=(1, 0, 0))))

    # M5 Clearance Hole1
    with Locations(Plane(origin=(0, 0, -37.30625), x_dir=(-1, 0, 0), z_dir=(0, 0, -1))):
        with Locations((30, 12.827), (30, 52.827), (-30, 52.827), (-30, 12.827)):
            Hole(M5_CLEARANCE_HOLE1_D / 2, depth=M5_CLEARANCE_HOLE1_DEPTH)

    # Sketch11 → Cut-Extrude3 (cut, up to next)
    with BuildSketch(Plane.ZY.offset(25.4), mode=Mode.PRIVATE) as cut_extrude3_sk1:
        with Locations((7.20725, 28.575)):
            Circle(SKETCH11_R)
    cut_extrude3_tool1 = extrude(cut_extrude3_sk1.sketch, amount=-CUT_EXTRUDE3_REACH, mode=Mode.PRIVATE) & part.part
    add(cut_extrude3_tool1.solids().sort_by_distance((-25.4, 28.575, 7.20725))[0], mode=Mode.SUBTRACT)

    # #10-32 Tapped Hole2
    with Locations(Plane.ZY.offset(25.4)):
        with Locations((-16.79575, 28.575), (-4.79425, 49.362207767), (19.20875, 49.362207767), (31.21025, 28.575), (19.20875, 7.787792233), (-4.79425, 7.787792233)):
            Hole(F_10_32_TAPPED_HOLE2_D / 2, depth=F_10_32_TAPPED_HOLE2_DEPTH)
            with Locations((0, 0, -(F_10_32_TAPPED_HOLE2_DEPTH + F_10_32_TAPPED_HOLE2_TIP / 2))):  # 118° drill point
                Cone(0, F_10_32_TAPPED_HOLE2_D / 2, F_10_32_TAPPED_HOLE2_TIP, mode=Mode.SUBTRACT)

    # #2-56 Tapped Hole1
    with Locations(Plane(origin=(0, 9.525, 0), x_dir=(-1, 0, 0), z_dir=(0, 1, 0))):
        with Locations((13, -12.163354521), (13, -25.163354521), (-13, -25.163354521), (-13, -12.163354521), (5.6515, 4.74375), (-5.6515, 4.74375)):
            Hole(F_2_56_TAPPED_HOLE1_D / 2, depth=F_2_56_TAPPED_HOLE1_DEPTH)
            with Locations((0, 0, -(F_2_56_TAPPED_HOLE1_DEPTH + F_2_56_TAPPED_HOLE1_TIP / 2))):  # 118° drill point
                Cone(0, F_2_56_TAPPED_HOLE1_D / 2, F_2_56_TAPPED_HOLE1_TIP, mode=Mode.SUBTRACT)

    # #6-32 Tapped Hole2
    with Locations(Plane.XY.offset(37.30625)):
        with Locations((20.50625, 48.141034847), (20.50625, 6.866034847), (-20.76875, 48.141034847), (-20.76875, 6.866034847)):
            Hole(F_6_32_TAPPED_HOLE2_D / 2, depth=F_6_32_TAPPED_HOLE2_DEPTH)
            with Locations((0, 0, -(F_6_32_TAPPED_HOLE2_DEPTH + F_6_32_TAPPED_HOLE2_TIP / 2))):  # 118° drill point
                Cone(0, F_6_32_TAPPED_HOLE2_D / 2, F_6_32_TAPPED_HOLE2_TIP, mode=Mode.SUBTRACT)

    # Sketch24 → Cut-Extrude6 (cut, up to next)
    with BuildSketch(Plane.XY.offset(37.30625), mode=Mode.PRIVATE) as cut_extrude6_sk1:
        with BuildLine():
            Line((-4.7625, 11.628534847), (4.7625, 11.628534847))
            ThreePointArc((4.7625, 11.628534847), (8.130096045, 13.023438801), (9.525, 16.391034847))
            Line((9.525, 16.391034847), (9.525, 38.616034847))
            ThreePointArc((9.525, 38.616034847), (8.130096045, 41.983630892), (4.7625, 43.378534847))
            Line((4.7625, 43.378534847), (-4.7625, 43.378534847))
            ThreePointArc((-4.7625, 43.378534847), (-8.130096045, 41.983630892), (-9.525, 38.616034847))
            Line((-9.525, 38.616034847), (-9.525, 16.391034847))
            ThreePointArc((-9.525, 16.391034847), (-8.130096045, 13.023438801), (-4.7625, 11.628534847))
        make_face()
    cut_extrude6_tool1 = extrude(cut_extrude6_sk1.sketch, amount=-CUT_EXTRUDE6_REACH, mode=Mode.PRIVATE) & part.part
    add(cut_extrude6_tool1.solids().sort_by_distance((0, 27.503535, 37.30625))[0], mode=Mode.SUBTRACT)


solid = part.part
